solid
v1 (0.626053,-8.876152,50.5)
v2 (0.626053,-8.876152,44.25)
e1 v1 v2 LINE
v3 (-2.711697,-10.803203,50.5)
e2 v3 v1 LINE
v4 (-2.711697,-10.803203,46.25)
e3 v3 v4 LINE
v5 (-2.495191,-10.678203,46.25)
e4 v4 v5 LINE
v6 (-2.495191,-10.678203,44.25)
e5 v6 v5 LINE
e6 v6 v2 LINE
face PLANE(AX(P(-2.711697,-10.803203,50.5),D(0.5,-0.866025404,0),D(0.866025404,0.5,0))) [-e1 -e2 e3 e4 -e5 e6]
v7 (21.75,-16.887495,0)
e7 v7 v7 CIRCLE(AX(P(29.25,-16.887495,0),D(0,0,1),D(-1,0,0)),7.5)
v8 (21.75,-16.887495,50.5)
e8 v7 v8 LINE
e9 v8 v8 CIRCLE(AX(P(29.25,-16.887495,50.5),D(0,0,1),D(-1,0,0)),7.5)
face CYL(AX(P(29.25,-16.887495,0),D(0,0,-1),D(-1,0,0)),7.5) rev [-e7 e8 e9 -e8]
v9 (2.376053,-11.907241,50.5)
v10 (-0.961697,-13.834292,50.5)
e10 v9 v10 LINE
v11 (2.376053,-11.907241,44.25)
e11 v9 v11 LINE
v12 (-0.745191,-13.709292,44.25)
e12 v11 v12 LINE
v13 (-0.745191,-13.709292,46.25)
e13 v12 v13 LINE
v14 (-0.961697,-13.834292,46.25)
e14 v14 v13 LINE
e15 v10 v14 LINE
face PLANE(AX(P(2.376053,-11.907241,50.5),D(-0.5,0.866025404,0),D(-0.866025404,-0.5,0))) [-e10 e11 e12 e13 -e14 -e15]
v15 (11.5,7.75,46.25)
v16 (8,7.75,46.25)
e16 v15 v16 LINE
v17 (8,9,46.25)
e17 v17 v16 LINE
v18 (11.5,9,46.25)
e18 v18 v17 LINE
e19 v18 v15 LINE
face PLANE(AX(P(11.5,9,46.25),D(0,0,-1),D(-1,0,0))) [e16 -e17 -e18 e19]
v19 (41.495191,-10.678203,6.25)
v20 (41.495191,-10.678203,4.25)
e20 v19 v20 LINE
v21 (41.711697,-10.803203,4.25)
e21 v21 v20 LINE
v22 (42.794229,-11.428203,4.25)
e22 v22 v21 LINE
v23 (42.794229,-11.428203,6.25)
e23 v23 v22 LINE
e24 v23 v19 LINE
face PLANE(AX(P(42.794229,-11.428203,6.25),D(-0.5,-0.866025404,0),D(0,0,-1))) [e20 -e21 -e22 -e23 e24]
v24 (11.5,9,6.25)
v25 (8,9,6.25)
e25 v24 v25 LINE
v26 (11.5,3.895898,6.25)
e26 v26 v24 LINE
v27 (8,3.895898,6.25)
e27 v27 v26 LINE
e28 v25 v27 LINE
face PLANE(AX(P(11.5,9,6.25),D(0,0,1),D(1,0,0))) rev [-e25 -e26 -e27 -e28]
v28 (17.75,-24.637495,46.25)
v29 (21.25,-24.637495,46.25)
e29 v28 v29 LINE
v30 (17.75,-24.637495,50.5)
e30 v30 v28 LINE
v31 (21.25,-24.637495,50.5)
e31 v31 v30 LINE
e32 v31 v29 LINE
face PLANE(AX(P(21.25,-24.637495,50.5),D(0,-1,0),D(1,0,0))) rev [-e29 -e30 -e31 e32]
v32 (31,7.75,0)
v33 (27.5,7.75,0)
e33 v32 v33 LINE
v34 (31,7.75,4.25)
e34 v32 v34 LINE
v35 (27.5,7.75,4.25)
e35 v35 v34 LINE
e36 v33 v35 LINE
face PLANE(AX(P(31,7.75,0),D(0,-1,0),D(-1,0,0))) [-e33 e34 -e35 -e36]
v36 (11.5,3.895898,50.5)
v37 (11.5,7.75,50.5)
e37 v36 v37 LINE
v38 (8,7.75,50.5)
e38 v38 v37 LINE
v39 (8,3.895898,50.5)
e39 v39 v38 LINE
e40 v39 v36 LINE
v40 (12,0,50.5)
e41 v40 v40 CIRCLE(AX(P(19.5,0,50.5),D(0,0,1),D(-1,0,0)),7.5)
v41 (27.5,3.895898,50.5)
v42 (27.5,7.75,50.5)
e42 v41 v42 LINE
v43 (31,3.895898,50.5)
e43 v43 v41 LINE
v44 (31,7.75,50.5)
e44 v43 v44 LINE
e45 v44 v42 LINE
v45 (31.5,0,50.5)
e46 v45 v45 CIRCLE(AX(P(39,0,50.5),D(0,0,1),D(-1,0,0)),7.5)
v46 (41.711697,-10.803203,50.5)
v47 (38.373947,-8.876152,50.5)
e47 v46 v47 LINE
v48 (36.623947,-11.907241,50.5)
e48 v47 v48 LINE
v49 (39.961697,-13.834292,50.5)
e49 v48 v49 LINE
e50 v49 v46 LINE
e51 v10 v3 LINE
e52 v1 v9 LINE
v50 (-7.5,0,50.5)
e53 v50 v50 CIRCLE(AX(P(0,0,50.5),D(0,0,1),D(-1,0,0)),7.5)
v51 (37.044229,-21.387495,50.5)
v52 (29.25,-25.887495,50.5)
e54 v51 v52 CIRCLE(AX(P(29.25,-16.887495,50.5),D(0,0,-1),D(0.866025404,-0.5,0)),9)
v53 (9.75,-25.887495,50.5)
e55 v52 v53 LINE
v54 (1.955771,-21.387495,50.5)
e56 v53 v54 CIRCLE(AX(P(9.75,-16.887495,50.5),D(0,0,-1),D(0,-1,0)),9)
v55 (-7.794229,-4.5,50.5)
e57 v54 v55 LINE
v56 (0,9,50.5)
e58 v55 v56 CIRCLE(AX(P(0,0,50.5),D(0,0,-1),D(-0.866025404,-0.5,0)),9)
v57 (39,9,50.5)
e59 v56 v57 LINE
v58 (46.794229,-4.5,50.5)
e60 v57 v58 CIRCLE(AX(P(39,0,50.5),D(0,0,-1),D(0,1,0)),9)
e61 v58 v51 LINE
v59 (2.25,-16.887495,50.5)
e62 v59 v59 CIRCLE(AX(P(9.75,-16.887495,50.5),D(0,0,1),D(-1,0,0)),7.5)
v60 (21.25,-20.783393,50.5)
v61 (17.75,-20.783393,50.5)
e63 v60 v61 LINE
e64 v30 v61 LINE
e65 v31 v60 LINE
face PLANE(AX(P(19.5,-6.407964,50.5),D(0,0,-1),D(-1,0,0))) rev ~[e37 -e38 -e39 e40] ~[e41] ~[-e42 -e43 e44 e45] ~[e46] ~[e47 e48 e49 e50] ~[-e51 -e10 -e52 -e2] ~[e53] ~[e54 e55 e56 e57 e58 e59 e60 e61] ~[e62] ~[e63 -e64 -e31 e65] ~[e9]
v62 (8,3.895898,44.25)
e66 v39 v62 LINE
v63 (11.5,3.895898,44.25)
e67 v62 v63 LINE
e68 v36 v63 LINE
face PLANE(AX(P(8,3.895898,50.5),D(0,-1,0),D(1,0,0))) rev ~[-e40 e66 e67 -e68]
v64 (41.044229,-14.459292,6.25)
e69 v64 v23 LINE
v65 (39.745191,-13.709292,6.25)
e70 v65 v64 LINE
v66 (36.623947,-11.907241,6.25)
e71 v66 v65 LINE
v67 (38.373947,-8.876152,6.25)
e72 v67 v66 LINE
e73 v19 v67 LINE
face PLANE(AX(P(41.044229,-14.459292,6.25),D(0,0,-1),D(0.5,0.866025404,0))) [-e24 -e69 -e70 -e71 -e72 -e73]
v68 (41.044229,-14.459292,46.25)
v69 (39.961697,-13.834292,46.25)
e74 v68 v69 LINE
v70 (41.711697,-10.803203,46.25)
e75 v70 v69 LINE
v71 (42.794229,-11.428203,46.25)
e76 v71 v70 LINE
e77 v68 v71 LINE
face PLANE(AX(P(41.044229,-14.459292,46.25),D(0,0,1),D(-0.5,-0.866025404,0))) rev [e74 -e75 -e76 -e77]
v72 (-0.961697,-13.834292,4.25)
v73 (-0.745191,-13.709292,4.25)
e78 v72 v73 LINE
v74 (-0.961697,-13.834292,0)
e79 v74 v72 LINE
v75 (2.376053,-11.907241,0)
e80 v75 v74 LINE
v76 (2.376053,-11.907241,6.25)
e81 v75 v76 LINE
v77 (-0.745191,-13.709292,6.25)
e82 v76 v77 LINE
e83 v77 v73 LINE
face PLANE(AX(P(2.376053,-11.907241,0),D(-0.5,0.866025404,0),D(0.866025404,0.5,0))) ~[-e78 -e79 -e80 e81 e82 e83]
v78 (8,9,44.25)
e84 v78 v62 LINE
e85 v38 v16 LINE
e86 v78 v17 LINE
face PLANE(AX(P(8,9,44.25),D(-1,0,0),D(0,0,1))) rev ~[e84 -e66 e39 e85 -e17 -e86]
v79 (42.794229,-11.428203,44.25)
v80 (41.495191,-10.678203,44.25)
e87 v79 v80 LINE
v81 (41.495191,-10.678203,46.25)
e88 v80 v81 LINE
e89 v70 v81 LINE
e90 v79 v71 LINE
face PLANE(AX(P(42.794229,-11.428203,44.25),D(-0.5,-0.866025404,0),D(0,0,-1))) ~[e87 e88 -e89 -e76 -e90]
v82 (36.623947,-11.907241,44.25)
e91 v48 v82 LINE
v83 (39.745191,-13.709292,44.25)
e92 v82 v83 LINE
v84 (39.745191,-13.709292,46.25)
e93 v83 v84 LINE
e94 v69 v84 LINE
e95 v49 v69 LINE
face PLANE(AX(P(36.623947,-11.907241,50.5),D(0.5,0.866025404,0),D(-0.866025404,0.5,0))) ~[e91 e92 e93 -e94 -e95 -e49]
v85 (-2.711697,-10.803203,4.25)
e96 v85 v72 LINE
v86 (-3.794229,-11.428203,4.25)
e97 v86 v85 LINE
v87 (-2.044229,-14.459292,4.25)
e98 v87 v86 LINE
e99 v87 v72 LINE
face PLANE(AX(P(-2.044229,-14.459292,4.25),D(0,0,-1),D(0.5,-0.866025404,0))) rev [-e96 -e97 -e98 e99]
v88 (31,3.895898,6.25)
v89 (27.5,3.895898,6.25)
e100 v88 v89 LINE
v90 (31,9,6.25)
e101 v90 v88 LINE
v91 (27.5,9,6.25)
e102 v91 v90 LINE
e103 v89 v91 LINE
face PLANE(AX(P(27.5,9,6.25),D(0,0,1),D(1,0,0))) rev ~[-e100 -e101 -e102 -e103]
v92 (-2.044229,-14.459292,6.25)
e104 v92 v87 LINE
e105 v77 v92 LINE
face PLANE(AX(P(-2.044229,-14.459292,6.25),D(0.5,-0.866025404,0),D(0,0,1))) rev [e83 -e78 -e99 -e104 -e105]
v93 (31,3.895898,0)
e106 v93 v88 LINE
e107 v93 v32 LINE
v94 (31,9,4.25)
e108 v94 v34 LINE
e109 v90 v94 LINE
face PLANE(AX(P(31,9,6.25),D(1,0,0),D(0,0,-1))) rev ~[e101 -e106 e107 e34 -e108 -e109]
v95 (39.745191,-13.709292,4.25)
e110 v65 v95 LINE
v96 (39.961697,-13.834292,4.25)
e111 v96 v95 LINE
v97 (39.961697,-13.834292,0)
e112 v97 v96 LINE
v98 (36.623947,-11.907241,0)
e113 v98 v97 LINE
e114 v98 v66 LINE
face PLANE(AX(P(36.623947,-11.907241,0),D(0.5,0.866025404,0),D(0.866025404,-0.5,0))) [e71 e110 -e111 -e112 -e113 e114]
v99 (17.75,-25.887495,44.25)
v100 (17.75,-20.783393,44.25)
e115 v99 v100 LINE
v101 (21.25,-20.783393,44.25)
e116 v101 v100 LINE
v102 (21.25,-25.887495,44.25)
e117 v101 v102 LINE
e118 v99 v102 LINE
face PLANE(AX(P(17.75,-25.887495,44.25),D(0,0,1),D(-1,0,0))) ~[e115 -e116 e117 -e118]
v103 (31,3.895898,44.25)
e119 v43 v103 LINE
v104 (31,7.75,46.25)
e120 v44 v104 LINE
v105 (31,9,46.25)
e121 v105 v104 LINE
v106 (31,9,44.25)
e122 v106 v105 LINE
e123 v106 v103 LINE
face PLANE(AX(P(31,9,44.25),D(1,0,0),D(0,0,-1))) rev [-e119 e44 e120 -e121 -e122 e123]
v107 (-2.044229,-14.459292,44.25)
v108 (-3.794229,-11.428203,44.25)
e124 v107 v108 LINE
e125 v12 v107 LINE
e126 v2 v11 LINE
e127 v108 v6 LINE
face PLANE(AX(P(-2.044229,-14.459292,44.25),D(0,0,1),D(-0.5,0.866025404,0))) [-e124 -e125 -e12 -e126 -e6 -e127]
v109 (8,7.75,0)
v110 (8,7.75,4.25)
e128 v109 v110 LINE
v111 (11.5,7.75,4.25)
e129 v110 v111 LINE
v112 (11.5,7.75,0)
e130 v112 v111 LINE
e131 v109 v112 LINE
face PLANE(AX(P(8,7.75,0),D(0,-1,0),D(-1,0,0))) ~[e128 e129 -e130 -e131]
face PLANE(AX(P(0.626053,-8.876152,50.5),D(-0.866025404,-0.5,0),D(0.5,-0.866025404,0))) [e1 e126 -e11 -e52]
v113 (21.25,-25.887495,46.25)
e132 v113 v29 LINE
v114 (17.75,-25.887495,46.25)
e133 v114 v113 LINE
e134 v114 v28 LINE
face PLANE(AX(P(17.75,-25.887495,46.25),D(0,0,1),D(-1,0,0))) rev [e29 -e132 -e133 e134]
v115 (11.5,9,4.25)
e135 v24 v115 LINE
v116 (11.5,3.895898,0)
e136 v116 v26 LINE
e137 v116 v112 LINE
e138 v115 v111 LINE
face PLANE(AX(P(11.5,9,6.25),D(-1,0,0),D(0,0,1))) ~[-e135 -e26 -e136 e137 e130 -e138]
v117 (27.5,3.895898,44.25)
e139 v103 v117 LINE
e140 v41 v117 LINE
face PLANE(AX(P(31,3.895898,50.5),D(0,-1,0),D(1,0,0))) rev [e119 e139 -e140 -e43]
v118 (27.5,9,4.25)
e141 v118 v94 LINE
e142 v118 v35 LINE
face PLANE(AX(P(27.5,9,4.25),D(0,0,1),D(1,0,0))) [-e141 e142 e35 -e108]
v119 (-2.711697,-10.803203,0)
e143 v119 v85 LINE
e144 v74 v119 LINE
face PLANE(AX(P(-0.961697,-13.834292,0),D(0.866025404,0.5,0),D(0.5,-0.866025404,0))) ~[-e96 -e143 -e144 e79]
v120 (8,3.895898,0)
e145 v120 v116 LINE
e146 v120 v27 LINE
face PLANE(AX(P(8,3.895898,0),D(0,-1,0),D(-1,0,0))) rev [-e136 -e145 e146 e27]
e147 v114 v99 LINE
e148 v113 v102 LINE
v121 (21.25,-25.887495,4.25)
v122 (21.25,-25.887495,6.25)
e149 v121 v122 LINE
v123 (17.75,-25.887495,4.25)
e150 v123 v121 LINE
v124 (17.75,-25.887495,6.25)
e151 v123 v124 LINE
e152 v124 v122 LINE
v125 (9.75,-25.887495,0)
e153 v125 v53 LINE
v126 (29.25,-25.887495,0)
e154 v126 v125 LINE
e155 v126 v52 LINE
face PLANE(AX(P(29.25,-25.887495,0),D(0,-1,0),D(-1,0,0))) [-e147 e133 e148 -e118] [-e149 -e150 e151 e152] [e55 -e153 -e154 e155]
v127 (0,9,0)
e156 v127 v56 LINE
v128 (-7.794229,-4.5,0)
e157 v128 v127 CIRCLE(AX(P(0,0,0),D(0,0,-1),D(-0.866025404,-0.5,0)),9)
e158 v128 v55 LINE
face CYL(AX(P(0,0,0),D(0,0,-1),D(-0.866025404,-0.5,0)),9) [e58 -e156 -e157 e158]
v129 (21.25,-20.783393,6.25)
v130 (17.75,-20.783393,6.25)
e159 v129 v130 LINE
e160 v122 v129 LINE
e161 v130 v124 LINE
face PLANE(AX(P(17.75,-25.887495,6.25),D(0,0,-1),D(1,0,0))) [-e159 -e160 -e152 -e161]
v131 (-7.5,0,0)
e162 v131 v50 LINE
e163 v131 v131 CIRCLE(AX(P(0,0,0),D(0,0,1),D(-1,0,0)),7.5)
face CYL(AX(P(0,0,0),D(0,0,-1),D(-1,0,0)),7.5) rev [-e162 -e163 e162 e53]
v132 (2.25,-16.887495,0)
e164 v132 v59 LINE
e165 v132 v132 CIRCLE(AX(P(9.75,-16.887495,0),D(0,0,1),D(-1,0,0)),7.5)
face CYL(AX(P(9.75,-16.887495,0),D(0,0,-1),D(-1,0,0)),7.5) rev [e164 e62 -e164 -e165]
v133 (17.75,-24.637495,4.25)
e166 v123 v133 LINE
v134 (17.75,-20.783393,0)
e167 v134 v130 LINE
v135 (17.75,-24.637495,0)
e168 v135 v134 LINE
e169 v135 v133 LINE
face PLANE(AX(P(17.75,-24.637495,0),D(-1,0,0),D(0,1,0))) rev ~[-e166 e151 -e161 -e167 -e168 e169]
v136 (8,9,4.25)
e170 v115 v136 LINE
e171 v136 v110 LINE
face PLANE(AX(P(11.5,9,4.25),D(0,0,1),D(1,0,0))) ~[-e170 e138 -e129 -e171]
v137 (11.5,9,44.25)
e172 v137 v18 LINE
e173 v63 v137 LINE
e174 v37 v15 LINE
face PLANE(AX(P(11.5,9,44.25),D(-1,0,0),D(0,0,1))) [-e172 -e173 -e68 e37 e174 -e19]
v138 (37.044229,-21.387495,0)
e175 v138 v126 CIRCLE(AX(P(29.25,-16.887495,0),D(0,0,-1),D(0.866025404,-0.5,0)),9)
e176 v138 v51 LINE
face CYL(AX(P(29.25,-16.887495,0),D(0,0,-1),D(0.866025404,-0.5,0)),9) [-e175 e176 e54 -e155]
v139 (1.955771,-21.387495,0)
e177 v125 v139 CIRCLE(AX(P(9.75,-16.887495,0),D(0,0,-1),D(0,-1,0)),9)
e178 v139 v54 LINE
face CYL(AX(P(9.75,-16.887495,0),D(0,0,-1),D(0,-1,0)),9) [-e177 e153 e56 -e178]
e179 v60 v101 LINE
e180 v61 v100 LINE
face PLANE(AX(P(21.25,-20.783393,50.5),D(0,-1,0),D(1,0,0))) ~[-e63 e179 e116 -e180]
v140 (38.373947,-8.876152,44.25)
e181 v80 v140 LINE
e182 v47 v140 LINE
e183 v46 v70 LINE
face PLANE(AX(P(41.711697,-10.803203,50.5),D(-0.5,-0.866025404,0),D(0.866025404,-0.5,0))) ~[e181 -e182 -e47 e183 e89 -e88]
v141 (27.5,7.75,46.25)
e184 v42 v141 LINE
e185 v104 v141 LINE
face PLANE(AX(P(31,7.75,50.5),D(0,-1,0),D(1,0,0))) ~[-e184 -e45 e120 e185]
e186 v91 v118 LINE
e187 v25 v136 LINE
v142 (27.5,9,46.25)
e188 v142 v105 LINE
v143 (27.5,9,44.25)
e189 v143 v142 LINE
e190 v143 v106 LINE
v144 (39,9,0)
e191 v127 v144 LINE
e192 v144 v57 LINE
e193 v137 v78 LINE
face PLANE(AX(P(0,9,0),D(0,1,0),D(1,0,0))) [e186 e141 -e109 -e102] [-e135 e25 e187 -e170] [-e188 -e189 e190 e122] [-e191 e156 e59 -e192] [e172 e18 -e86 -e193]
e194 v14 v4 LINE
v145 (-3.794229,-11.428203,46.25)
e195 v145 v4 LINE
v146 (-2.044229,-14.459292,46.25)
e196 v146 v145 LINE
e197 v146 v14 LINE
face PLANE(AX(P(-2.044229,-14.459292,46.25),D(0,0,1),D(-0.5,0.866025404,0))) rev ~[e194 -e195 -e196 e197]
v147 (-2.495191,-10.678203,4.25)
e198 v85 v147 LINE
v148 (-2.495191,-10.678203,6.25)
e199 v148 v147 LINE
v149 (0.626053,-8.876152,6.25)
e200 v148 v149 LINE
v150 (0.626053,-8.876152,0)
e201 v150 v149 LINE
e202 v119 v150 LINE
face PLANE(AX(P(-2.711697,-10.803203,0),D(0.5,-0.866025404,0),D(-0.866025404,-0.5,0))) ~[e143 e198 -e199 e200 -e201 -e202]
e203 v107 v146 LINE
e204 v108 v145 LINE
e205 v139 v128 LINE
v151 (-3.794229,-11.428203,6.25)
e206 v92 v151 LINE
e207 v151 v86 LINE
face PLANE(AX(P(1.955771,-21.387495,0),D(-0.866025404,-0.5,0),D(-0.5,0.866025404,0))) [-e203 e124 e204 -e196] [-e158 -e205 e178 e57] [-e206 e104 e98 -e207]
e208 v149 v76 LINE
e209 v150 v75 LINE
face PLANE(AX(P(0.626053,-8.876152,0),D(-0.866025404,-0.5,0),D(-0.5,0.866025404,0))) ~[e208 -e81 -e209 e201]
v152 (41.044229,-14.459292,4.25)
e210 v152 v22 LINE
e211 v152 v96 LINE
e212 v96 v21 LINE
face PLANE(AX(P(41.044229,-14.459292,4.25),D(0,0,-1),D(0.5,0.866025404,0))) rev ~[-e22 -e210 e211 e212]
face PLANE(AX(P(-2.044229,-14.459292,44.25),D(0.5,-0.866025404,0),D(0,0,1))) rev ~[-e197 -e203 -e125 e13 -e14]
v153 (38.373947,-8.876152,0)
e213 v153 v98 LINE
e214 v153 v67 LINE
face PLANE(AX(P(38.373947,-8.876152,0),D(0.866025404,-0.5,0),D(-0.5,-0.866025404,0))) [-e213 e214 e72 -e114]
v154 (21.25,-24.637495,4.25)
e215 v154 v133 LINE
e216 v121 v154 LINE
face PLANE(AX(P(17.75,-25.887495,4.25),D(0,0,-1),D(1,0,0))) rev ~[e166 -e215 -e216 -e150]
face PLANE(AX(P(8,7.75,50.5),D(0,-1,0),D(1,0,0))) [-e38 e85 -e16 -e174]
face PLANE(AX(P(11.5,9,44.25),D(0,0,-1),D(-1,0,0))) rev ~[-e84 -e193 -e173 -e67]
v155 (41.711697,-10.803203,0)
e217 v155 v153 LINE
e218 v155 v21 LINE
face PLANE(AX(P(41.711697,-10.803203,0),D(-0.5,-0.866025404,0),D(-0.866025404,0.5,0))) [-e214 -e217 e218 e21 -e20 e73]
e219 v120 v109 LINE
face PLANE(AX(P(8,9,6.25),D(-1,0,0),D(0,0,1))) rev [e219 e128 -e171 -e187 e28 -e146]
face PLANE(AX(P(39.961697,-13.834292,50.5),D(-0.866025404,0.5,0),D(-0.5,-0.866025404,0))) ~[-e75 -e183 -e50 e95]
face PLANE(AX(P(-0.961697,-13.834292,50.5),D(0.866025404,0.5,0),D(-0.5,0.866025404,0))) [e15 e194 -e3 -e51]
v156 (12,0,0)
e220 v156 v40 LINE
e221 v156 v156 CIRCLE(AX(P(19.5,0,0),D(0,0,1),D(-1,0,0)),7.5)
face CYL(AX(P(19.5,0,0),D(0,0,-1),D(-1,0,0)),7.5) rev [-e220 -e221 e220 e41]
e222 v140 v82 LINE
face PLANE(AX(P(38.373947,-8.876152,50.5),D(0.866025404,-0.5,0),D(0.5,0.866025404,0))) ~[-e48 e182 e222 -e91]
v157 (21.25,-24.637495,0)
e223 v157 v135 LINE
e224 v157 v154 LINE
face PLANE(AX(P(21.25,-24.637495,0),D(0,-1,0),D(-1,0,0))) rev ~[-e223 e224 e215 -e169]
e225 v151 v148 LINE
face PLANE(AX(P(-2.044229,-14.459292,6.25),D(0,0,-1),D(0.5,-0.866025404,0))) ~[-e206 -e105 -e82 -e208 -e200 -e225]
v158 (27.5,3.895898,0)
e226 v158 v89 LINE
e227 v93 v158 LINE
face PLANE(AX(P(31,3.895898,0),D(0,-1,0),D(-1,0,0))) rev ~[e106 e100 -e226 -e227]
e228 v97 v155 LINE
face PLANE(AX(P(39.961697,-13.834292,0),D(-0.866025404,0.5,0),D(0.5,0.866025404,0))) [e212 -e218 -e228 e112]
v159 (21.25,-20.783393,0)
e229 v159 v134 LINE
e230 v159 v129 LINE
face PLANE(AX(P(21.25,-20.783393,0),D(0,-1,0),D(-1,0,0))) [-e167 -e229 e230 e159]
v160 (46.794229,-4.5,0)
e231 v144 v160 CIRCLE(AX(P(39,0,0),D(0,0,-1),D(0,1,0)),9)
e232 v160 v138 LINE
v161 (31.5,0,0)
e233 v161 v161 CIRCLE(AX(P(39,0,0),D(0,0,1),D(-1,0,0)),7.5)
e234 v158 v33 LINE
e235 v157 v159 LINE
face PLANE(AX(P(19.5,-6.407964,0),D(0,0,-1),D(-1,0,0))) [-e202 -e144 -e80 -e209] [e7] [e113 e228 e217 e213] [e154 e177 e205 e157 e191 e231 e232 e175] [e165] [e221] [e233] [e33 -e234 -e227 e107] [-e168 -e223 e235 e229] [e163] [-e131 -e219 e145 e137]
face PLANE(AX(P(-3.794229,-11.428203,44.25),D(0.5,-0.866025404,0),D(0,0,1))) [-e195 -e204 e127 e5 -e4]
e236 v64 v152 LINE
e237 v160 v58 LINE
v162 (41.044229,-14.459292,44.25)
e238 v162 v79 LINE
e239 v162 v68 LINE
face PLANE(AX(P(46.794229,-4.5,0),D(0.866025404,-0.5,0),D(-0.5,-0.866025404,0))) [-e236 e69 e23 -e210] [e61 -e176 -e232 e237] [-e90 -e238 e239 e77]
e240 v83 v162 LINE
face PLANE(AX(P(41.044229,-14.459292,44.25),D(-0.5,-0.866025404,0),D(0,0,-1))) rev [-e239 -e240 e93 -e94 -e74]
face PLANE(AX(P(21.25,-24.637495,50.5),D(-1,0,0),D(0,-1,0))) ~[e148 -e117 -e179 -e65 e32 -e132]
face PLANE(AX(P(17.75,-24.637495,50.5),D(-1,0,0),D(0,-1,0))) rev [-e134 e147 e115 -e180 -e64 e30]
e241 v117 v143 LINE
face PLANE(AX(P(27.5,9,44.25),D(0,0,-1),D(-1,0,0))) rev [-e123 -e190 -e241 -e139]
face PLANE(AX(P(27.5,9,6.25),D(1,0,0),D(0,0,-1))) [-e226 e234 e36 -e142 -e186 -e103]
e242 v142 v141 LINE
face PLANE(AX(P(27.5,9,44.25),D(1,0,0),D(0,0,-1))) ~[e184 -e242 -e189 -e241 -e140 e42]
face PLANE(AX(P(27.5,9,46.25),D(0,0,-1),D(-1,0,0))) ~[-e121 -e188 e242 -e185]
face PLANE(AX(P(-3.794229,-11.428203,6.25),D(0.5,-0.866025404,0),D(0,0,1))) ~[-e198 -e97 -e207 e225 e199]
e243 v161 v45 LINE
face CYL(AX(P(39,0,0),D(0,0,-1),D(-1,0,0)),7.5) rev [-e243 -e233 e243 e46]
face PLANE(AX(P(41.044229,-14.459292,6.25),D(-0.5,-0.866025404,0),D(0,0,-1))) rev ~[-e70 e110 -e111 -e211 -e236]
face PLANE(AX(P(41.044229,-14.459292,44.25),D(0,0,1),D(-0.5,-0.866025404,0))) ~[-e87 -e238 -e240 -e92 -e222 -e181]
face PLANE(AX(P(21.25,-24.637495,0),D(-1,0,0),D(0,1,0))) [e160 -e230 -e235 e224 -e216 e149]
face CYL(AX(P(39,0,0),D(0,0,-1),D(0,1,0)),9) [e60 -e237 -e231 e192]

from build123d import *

# Parameters (mm, degrees)
SKETCH1_R               = 7.5
BOSS_EXTRUDE1_DEPTH     = 50.5
SKETCH2_W               = 2
SKETCH2_H               = 3.5
CUT_EXTRUDE1_DEPTH      = 1.5
SKETCH3_W               = 3.5
SKETCH3_H               = 2
CUT_EXTRUDE2_DEPTH      = 1.5
SKETCH4_W               = 3.5
SKETCH4_H               = 2
CUT_EXTRUDE3_DEPTH      = 1.5
SKETCH5_W               = 3.5
SKETCH5_H               = 3.854101966
CUT_EXTRUDE4_DEPTH      = 6.25
MIRROR3_COPY_1_SKETCH_W = 2
MIRROR3_COPY_1_SKETCH_H = 3.5
MIRROR3_COPY_1_DEPTH    = 1.5
MIRROR3_COPY_2_SKETCH_W = 3.5
MIRROR3_COPY_2_SKETCH_H = 2
MIRROR3_COPY_2_DEPTH    = 1.5
MIRROR3_COPY_3_SKETCH_W = 3.5
MIRROR3_COPY_3_SKETCH_H = 2
MIRROR3_COPY_3_DEPTH    = 1.5
MIRROR3_COPY_4_SKETCH_W = 3.5
MIRROR3_COPY_4_SKETCH_H = 3.854101966
MIRROR3_COPY_4_DEPTH    = 6.25


with BuildPart() as part:
    # Sketch1 → Boss-Extrude1 (new body)
    with BuildSketch(Plane.XY):
        with BuildLine():
            Line((0, 9), (39, 9))
            ThreePointArc((39, 9), (46.794228634, 4.5), (46.794228634, -4.5))
            Line((46.794228634, -4.5), (37.044228634, -21.387495374))
            ThreePointArc((37.044228634, -21.387495374), (33.75, -24.681724008), (29.25, -25.887495374))
            Line((29.25, -25.887495374), (9.75, -25.887495374))
            ThreePointArc((9.75, -25.887495374), (5.25, -24.681724008), (1.955771366, -21.387495374))
            Line((1.955771366, -21.387495374), (-7.794228634, -4.5))
            ThreePointArc((-7.794228634, -4.5), (-7.794228634, 4.5), (0, 9))
        make_face()
        with Locations(Location((0, 0, 0), (0, 0, 180))):
            Circle(SKETCH1_R, mode=Mode.SUBTRACT)
        with Locations(Location((9.75, -16.887495374, 0), (0, 0, 180))):
            Circle(SKETCH1_R, mode=Mode.SUBTRACT)
        with Locations(Location((19.5, 0, 0), (0, 0, 180))):
            Circle(SKETCH1_R, mode=Mode.SUBTRACT)
        with Locations(Location((39, 0, 0), (0, 0, 180))):
            Circle(SKETCH1_R, mode=Mode.SUBTRACT)
        with Locations(Location((29.25, -16.887495374, 0), (0, 0, 180))):
            Circle(SKETCH1_R, mode=Mode.SUBTRACT)
    extrude(amount=BOSS_EXTRUDE1_DEPTH)

    # Sketch2 → Cut-Extrude1 (cut)
    with BuildSketch(Plane(origin=(37.044228634, -21.387495374, 0), x_dir=(0, 0, -1), z_dir=(0.8660254037844384, -0.5000000000000007, 0))):
        with Locations((-5.25, 9.75)):
            Rectangle(SKETCH2_W, SKETCH2_H)
    cut_extrude1 = extrude(amount=-CUT_EXTRUDE1_DEPTH, mode=Mode.SUBTRACT)

    # Sketch3 → Cut-Extrude2 (cut)
    with BuildSketch(Plane(origin=(0, 9, 0), x_dir=(1, 0, 0), z_dir=(0, 1, 0))):
        with Locations((29.25, -5.25)):
            Rectangle(SKETCH3_W, SKETCH3_H)
    cut_extrude2 = extrude(amount=-CUT_EXTRUDE2_DEPTH, mode=Mode.SUBTRACT)

    # Sketch4 → Cut-Extrude3 (cut)
    with BuildSketch(Plane.XZ.offset(25.887495374)):
        with Locations((19.5, 5.25)):
            Rectangle(SKETCH4_W, SKETCH4_H)
    cut_extrude3 = extrude(amount=-CUT_EXTRUDE3_DEPTH, mode=Mode.SUBTRACT)

    # Sketch5 → Cut-Extrude4 (cut)
    with BuildSketch(Plane(origin=(0, 0, 0), x_dir=(-1, 0, 0), z_dir=(0, 0, -1))):
        with Locations((-29.25, 5.822949017)):
            Rectangle(SKETCH5_W, SKETCH5_H)
        with Locations((-19.5, -22.710444391)):
            Rectangle(SKETCH5_W, SKETCH5_H)
        Polygon((-38.373946668, -8.876152247), (-36.623946668, -11.90724116), (-39.961696879, -13.834292144), (-41.711696879, -10.80320323), align=None)
    cut_extrude4 = extrude(amount=-CUT_EXTRUDE4_DEPTH, mode=Mode.SUBTRACT)

    # Mirror2: Cut-Extrude1, Cut-Extrude2, Cut-Extrude3, Cut-Extrude4 across plane
    add(cut_extrude1.mirror(Plane(origin=(19.5, 0, 0), x_dir=(0, 0, 1), z_dir=(1, 0, 0))), mode=Mode.SUBTRACT)
    add(cut_extrude2.mirror(Plane(origin=(19.5, 0, 0), x_dir=(0, 0, 1), z_dir=(1, 0, 0))), mode=Mode.SUBTRACT)
    add(cut_extrude3.mirror(Plane(origin=(19.5, 0, 0), x_dir=(0, 0, 1), z_dir=(1, 0, 0))), mode=Mode.SUBTRACT)
    add(cut_extrude4.mirror(Plane(origin=(19.5, 0, 0), x_dir=(0, 0, 1), z_dir=(1, 0, 0))), mode=Mode.SUBTRACT)

    # Mirror3: Cut-Extrude1, Cut-Extrude2, Cut-Extrude3, Cut-Extrude4 across plane
    add(cut_extrude1.mirror(Plane(origin=(0, 0, 25.25), x_dir=(1, 0, 0), z_dir=(0, 0, -1))), mode=Mode.SUBTRACT)
    add(cut_extrude2.mirror(Plane(origin=(0, 0, 25.25), x_dir=(1, 0, 0), z_dir=(0, 0, -1))), mode=Mode.SUBTRACT)
    add(cut_extrude3.mirror(Plane(origin=(0, 0, 25.25), x_dir=(1, 0, 0), z_dir=(0, 0, -1))), mode=Mode.SUBTRACT)
    add(cut_extrude4.mirror(Plane(origin=(0, 0, 25.25), x_dir=(1, 0, 0), z_dir=(0, 0, -1))), mode=Mode.SUBTRACT)

    # Mirror3 copy 1 sketch → Mirror3 copy 1 (cut)
    with BuildSketch(Plane(origin=(1.955771366, -21.387495374, 50.5), x_dir=(0, 0, 1), z_dir=(-0.8660254037844385, -0.5000000000000004, 0))):
        with Locations((-5.25, 9.75)):
            Rectangle(MIRROR3_COPY_1_SKETCH_W, MIRROR3_COPY_1_SKETCH_H)
    extrude(amount=-MIRROR3_COPY_1_DEPTH, mode=Mode.SUBTRACT)

    # Mirror3 copy 2 sketch → Mirror3 copy 2 (cut)
    with BuildSketch(Plane(origin=(39, 9, 50.5), x_dir=(-1, 0, 0), z_dir=(0, 1, 0))):
        with Locations((29.25, -5.25)):
            Rectangle(MIRROR3_COPY_2_SKETCH_W, MIRROR3_COPY_2_SKETCH_H)
    extrude(amount=-MIRROR3_COPY_2_DEPTH, mode=Mode.SUBTRACT)

    # Mirror3 copy 3 sketch → Mirror3 copy 3 (cut)
    with BuildSketch(Plane(origin=(39, -25.887495374, 50.5), x_dir=(-1, 0, 0), z_dir=(0, -1, 0))):
        with Locations((19.5, 5.25)):
            Rectangle(MIRROR3_COPY_3_SKETCH_W, MIRROR3_COPY_3_SKETCH_H)
    extrude(amount=-MIRROR3_COPY_3_DEPTH, mode=Mode.SUBTRACT)

    # Mirror3 copy 4 sketch → Mirror3 copy 4 (cut)
    with BuildSketch(Plane(origin=(39, 0, 50.5), x_dir=(1, 0, 0), z_dir=(0, 0, 1))):
        with Locations((-29.25, 5.822949017)):
            Rectangle(MIRROR3_COPY_4_SKETCH_W, MIRROR3_COPY_4_SKETCH_H)
        with Locations((-19.5, -22.710444391)):
            Rectangle(MIRROR3_COPY_4_SKETCH_W, MIRROR3_COPY_4_SKETCH_H)
        Polygon((-38.373946668, -8.876152247), (-36.623946668, -11.90724116), (-39.961696879, -13.834292144), (-41.711696879, -10.80320323), align=None)
    extrude(amount=-MIRROR3_COPY_4_DEPTH, mode=Mode.SUBTRACT)


solid = part.part
